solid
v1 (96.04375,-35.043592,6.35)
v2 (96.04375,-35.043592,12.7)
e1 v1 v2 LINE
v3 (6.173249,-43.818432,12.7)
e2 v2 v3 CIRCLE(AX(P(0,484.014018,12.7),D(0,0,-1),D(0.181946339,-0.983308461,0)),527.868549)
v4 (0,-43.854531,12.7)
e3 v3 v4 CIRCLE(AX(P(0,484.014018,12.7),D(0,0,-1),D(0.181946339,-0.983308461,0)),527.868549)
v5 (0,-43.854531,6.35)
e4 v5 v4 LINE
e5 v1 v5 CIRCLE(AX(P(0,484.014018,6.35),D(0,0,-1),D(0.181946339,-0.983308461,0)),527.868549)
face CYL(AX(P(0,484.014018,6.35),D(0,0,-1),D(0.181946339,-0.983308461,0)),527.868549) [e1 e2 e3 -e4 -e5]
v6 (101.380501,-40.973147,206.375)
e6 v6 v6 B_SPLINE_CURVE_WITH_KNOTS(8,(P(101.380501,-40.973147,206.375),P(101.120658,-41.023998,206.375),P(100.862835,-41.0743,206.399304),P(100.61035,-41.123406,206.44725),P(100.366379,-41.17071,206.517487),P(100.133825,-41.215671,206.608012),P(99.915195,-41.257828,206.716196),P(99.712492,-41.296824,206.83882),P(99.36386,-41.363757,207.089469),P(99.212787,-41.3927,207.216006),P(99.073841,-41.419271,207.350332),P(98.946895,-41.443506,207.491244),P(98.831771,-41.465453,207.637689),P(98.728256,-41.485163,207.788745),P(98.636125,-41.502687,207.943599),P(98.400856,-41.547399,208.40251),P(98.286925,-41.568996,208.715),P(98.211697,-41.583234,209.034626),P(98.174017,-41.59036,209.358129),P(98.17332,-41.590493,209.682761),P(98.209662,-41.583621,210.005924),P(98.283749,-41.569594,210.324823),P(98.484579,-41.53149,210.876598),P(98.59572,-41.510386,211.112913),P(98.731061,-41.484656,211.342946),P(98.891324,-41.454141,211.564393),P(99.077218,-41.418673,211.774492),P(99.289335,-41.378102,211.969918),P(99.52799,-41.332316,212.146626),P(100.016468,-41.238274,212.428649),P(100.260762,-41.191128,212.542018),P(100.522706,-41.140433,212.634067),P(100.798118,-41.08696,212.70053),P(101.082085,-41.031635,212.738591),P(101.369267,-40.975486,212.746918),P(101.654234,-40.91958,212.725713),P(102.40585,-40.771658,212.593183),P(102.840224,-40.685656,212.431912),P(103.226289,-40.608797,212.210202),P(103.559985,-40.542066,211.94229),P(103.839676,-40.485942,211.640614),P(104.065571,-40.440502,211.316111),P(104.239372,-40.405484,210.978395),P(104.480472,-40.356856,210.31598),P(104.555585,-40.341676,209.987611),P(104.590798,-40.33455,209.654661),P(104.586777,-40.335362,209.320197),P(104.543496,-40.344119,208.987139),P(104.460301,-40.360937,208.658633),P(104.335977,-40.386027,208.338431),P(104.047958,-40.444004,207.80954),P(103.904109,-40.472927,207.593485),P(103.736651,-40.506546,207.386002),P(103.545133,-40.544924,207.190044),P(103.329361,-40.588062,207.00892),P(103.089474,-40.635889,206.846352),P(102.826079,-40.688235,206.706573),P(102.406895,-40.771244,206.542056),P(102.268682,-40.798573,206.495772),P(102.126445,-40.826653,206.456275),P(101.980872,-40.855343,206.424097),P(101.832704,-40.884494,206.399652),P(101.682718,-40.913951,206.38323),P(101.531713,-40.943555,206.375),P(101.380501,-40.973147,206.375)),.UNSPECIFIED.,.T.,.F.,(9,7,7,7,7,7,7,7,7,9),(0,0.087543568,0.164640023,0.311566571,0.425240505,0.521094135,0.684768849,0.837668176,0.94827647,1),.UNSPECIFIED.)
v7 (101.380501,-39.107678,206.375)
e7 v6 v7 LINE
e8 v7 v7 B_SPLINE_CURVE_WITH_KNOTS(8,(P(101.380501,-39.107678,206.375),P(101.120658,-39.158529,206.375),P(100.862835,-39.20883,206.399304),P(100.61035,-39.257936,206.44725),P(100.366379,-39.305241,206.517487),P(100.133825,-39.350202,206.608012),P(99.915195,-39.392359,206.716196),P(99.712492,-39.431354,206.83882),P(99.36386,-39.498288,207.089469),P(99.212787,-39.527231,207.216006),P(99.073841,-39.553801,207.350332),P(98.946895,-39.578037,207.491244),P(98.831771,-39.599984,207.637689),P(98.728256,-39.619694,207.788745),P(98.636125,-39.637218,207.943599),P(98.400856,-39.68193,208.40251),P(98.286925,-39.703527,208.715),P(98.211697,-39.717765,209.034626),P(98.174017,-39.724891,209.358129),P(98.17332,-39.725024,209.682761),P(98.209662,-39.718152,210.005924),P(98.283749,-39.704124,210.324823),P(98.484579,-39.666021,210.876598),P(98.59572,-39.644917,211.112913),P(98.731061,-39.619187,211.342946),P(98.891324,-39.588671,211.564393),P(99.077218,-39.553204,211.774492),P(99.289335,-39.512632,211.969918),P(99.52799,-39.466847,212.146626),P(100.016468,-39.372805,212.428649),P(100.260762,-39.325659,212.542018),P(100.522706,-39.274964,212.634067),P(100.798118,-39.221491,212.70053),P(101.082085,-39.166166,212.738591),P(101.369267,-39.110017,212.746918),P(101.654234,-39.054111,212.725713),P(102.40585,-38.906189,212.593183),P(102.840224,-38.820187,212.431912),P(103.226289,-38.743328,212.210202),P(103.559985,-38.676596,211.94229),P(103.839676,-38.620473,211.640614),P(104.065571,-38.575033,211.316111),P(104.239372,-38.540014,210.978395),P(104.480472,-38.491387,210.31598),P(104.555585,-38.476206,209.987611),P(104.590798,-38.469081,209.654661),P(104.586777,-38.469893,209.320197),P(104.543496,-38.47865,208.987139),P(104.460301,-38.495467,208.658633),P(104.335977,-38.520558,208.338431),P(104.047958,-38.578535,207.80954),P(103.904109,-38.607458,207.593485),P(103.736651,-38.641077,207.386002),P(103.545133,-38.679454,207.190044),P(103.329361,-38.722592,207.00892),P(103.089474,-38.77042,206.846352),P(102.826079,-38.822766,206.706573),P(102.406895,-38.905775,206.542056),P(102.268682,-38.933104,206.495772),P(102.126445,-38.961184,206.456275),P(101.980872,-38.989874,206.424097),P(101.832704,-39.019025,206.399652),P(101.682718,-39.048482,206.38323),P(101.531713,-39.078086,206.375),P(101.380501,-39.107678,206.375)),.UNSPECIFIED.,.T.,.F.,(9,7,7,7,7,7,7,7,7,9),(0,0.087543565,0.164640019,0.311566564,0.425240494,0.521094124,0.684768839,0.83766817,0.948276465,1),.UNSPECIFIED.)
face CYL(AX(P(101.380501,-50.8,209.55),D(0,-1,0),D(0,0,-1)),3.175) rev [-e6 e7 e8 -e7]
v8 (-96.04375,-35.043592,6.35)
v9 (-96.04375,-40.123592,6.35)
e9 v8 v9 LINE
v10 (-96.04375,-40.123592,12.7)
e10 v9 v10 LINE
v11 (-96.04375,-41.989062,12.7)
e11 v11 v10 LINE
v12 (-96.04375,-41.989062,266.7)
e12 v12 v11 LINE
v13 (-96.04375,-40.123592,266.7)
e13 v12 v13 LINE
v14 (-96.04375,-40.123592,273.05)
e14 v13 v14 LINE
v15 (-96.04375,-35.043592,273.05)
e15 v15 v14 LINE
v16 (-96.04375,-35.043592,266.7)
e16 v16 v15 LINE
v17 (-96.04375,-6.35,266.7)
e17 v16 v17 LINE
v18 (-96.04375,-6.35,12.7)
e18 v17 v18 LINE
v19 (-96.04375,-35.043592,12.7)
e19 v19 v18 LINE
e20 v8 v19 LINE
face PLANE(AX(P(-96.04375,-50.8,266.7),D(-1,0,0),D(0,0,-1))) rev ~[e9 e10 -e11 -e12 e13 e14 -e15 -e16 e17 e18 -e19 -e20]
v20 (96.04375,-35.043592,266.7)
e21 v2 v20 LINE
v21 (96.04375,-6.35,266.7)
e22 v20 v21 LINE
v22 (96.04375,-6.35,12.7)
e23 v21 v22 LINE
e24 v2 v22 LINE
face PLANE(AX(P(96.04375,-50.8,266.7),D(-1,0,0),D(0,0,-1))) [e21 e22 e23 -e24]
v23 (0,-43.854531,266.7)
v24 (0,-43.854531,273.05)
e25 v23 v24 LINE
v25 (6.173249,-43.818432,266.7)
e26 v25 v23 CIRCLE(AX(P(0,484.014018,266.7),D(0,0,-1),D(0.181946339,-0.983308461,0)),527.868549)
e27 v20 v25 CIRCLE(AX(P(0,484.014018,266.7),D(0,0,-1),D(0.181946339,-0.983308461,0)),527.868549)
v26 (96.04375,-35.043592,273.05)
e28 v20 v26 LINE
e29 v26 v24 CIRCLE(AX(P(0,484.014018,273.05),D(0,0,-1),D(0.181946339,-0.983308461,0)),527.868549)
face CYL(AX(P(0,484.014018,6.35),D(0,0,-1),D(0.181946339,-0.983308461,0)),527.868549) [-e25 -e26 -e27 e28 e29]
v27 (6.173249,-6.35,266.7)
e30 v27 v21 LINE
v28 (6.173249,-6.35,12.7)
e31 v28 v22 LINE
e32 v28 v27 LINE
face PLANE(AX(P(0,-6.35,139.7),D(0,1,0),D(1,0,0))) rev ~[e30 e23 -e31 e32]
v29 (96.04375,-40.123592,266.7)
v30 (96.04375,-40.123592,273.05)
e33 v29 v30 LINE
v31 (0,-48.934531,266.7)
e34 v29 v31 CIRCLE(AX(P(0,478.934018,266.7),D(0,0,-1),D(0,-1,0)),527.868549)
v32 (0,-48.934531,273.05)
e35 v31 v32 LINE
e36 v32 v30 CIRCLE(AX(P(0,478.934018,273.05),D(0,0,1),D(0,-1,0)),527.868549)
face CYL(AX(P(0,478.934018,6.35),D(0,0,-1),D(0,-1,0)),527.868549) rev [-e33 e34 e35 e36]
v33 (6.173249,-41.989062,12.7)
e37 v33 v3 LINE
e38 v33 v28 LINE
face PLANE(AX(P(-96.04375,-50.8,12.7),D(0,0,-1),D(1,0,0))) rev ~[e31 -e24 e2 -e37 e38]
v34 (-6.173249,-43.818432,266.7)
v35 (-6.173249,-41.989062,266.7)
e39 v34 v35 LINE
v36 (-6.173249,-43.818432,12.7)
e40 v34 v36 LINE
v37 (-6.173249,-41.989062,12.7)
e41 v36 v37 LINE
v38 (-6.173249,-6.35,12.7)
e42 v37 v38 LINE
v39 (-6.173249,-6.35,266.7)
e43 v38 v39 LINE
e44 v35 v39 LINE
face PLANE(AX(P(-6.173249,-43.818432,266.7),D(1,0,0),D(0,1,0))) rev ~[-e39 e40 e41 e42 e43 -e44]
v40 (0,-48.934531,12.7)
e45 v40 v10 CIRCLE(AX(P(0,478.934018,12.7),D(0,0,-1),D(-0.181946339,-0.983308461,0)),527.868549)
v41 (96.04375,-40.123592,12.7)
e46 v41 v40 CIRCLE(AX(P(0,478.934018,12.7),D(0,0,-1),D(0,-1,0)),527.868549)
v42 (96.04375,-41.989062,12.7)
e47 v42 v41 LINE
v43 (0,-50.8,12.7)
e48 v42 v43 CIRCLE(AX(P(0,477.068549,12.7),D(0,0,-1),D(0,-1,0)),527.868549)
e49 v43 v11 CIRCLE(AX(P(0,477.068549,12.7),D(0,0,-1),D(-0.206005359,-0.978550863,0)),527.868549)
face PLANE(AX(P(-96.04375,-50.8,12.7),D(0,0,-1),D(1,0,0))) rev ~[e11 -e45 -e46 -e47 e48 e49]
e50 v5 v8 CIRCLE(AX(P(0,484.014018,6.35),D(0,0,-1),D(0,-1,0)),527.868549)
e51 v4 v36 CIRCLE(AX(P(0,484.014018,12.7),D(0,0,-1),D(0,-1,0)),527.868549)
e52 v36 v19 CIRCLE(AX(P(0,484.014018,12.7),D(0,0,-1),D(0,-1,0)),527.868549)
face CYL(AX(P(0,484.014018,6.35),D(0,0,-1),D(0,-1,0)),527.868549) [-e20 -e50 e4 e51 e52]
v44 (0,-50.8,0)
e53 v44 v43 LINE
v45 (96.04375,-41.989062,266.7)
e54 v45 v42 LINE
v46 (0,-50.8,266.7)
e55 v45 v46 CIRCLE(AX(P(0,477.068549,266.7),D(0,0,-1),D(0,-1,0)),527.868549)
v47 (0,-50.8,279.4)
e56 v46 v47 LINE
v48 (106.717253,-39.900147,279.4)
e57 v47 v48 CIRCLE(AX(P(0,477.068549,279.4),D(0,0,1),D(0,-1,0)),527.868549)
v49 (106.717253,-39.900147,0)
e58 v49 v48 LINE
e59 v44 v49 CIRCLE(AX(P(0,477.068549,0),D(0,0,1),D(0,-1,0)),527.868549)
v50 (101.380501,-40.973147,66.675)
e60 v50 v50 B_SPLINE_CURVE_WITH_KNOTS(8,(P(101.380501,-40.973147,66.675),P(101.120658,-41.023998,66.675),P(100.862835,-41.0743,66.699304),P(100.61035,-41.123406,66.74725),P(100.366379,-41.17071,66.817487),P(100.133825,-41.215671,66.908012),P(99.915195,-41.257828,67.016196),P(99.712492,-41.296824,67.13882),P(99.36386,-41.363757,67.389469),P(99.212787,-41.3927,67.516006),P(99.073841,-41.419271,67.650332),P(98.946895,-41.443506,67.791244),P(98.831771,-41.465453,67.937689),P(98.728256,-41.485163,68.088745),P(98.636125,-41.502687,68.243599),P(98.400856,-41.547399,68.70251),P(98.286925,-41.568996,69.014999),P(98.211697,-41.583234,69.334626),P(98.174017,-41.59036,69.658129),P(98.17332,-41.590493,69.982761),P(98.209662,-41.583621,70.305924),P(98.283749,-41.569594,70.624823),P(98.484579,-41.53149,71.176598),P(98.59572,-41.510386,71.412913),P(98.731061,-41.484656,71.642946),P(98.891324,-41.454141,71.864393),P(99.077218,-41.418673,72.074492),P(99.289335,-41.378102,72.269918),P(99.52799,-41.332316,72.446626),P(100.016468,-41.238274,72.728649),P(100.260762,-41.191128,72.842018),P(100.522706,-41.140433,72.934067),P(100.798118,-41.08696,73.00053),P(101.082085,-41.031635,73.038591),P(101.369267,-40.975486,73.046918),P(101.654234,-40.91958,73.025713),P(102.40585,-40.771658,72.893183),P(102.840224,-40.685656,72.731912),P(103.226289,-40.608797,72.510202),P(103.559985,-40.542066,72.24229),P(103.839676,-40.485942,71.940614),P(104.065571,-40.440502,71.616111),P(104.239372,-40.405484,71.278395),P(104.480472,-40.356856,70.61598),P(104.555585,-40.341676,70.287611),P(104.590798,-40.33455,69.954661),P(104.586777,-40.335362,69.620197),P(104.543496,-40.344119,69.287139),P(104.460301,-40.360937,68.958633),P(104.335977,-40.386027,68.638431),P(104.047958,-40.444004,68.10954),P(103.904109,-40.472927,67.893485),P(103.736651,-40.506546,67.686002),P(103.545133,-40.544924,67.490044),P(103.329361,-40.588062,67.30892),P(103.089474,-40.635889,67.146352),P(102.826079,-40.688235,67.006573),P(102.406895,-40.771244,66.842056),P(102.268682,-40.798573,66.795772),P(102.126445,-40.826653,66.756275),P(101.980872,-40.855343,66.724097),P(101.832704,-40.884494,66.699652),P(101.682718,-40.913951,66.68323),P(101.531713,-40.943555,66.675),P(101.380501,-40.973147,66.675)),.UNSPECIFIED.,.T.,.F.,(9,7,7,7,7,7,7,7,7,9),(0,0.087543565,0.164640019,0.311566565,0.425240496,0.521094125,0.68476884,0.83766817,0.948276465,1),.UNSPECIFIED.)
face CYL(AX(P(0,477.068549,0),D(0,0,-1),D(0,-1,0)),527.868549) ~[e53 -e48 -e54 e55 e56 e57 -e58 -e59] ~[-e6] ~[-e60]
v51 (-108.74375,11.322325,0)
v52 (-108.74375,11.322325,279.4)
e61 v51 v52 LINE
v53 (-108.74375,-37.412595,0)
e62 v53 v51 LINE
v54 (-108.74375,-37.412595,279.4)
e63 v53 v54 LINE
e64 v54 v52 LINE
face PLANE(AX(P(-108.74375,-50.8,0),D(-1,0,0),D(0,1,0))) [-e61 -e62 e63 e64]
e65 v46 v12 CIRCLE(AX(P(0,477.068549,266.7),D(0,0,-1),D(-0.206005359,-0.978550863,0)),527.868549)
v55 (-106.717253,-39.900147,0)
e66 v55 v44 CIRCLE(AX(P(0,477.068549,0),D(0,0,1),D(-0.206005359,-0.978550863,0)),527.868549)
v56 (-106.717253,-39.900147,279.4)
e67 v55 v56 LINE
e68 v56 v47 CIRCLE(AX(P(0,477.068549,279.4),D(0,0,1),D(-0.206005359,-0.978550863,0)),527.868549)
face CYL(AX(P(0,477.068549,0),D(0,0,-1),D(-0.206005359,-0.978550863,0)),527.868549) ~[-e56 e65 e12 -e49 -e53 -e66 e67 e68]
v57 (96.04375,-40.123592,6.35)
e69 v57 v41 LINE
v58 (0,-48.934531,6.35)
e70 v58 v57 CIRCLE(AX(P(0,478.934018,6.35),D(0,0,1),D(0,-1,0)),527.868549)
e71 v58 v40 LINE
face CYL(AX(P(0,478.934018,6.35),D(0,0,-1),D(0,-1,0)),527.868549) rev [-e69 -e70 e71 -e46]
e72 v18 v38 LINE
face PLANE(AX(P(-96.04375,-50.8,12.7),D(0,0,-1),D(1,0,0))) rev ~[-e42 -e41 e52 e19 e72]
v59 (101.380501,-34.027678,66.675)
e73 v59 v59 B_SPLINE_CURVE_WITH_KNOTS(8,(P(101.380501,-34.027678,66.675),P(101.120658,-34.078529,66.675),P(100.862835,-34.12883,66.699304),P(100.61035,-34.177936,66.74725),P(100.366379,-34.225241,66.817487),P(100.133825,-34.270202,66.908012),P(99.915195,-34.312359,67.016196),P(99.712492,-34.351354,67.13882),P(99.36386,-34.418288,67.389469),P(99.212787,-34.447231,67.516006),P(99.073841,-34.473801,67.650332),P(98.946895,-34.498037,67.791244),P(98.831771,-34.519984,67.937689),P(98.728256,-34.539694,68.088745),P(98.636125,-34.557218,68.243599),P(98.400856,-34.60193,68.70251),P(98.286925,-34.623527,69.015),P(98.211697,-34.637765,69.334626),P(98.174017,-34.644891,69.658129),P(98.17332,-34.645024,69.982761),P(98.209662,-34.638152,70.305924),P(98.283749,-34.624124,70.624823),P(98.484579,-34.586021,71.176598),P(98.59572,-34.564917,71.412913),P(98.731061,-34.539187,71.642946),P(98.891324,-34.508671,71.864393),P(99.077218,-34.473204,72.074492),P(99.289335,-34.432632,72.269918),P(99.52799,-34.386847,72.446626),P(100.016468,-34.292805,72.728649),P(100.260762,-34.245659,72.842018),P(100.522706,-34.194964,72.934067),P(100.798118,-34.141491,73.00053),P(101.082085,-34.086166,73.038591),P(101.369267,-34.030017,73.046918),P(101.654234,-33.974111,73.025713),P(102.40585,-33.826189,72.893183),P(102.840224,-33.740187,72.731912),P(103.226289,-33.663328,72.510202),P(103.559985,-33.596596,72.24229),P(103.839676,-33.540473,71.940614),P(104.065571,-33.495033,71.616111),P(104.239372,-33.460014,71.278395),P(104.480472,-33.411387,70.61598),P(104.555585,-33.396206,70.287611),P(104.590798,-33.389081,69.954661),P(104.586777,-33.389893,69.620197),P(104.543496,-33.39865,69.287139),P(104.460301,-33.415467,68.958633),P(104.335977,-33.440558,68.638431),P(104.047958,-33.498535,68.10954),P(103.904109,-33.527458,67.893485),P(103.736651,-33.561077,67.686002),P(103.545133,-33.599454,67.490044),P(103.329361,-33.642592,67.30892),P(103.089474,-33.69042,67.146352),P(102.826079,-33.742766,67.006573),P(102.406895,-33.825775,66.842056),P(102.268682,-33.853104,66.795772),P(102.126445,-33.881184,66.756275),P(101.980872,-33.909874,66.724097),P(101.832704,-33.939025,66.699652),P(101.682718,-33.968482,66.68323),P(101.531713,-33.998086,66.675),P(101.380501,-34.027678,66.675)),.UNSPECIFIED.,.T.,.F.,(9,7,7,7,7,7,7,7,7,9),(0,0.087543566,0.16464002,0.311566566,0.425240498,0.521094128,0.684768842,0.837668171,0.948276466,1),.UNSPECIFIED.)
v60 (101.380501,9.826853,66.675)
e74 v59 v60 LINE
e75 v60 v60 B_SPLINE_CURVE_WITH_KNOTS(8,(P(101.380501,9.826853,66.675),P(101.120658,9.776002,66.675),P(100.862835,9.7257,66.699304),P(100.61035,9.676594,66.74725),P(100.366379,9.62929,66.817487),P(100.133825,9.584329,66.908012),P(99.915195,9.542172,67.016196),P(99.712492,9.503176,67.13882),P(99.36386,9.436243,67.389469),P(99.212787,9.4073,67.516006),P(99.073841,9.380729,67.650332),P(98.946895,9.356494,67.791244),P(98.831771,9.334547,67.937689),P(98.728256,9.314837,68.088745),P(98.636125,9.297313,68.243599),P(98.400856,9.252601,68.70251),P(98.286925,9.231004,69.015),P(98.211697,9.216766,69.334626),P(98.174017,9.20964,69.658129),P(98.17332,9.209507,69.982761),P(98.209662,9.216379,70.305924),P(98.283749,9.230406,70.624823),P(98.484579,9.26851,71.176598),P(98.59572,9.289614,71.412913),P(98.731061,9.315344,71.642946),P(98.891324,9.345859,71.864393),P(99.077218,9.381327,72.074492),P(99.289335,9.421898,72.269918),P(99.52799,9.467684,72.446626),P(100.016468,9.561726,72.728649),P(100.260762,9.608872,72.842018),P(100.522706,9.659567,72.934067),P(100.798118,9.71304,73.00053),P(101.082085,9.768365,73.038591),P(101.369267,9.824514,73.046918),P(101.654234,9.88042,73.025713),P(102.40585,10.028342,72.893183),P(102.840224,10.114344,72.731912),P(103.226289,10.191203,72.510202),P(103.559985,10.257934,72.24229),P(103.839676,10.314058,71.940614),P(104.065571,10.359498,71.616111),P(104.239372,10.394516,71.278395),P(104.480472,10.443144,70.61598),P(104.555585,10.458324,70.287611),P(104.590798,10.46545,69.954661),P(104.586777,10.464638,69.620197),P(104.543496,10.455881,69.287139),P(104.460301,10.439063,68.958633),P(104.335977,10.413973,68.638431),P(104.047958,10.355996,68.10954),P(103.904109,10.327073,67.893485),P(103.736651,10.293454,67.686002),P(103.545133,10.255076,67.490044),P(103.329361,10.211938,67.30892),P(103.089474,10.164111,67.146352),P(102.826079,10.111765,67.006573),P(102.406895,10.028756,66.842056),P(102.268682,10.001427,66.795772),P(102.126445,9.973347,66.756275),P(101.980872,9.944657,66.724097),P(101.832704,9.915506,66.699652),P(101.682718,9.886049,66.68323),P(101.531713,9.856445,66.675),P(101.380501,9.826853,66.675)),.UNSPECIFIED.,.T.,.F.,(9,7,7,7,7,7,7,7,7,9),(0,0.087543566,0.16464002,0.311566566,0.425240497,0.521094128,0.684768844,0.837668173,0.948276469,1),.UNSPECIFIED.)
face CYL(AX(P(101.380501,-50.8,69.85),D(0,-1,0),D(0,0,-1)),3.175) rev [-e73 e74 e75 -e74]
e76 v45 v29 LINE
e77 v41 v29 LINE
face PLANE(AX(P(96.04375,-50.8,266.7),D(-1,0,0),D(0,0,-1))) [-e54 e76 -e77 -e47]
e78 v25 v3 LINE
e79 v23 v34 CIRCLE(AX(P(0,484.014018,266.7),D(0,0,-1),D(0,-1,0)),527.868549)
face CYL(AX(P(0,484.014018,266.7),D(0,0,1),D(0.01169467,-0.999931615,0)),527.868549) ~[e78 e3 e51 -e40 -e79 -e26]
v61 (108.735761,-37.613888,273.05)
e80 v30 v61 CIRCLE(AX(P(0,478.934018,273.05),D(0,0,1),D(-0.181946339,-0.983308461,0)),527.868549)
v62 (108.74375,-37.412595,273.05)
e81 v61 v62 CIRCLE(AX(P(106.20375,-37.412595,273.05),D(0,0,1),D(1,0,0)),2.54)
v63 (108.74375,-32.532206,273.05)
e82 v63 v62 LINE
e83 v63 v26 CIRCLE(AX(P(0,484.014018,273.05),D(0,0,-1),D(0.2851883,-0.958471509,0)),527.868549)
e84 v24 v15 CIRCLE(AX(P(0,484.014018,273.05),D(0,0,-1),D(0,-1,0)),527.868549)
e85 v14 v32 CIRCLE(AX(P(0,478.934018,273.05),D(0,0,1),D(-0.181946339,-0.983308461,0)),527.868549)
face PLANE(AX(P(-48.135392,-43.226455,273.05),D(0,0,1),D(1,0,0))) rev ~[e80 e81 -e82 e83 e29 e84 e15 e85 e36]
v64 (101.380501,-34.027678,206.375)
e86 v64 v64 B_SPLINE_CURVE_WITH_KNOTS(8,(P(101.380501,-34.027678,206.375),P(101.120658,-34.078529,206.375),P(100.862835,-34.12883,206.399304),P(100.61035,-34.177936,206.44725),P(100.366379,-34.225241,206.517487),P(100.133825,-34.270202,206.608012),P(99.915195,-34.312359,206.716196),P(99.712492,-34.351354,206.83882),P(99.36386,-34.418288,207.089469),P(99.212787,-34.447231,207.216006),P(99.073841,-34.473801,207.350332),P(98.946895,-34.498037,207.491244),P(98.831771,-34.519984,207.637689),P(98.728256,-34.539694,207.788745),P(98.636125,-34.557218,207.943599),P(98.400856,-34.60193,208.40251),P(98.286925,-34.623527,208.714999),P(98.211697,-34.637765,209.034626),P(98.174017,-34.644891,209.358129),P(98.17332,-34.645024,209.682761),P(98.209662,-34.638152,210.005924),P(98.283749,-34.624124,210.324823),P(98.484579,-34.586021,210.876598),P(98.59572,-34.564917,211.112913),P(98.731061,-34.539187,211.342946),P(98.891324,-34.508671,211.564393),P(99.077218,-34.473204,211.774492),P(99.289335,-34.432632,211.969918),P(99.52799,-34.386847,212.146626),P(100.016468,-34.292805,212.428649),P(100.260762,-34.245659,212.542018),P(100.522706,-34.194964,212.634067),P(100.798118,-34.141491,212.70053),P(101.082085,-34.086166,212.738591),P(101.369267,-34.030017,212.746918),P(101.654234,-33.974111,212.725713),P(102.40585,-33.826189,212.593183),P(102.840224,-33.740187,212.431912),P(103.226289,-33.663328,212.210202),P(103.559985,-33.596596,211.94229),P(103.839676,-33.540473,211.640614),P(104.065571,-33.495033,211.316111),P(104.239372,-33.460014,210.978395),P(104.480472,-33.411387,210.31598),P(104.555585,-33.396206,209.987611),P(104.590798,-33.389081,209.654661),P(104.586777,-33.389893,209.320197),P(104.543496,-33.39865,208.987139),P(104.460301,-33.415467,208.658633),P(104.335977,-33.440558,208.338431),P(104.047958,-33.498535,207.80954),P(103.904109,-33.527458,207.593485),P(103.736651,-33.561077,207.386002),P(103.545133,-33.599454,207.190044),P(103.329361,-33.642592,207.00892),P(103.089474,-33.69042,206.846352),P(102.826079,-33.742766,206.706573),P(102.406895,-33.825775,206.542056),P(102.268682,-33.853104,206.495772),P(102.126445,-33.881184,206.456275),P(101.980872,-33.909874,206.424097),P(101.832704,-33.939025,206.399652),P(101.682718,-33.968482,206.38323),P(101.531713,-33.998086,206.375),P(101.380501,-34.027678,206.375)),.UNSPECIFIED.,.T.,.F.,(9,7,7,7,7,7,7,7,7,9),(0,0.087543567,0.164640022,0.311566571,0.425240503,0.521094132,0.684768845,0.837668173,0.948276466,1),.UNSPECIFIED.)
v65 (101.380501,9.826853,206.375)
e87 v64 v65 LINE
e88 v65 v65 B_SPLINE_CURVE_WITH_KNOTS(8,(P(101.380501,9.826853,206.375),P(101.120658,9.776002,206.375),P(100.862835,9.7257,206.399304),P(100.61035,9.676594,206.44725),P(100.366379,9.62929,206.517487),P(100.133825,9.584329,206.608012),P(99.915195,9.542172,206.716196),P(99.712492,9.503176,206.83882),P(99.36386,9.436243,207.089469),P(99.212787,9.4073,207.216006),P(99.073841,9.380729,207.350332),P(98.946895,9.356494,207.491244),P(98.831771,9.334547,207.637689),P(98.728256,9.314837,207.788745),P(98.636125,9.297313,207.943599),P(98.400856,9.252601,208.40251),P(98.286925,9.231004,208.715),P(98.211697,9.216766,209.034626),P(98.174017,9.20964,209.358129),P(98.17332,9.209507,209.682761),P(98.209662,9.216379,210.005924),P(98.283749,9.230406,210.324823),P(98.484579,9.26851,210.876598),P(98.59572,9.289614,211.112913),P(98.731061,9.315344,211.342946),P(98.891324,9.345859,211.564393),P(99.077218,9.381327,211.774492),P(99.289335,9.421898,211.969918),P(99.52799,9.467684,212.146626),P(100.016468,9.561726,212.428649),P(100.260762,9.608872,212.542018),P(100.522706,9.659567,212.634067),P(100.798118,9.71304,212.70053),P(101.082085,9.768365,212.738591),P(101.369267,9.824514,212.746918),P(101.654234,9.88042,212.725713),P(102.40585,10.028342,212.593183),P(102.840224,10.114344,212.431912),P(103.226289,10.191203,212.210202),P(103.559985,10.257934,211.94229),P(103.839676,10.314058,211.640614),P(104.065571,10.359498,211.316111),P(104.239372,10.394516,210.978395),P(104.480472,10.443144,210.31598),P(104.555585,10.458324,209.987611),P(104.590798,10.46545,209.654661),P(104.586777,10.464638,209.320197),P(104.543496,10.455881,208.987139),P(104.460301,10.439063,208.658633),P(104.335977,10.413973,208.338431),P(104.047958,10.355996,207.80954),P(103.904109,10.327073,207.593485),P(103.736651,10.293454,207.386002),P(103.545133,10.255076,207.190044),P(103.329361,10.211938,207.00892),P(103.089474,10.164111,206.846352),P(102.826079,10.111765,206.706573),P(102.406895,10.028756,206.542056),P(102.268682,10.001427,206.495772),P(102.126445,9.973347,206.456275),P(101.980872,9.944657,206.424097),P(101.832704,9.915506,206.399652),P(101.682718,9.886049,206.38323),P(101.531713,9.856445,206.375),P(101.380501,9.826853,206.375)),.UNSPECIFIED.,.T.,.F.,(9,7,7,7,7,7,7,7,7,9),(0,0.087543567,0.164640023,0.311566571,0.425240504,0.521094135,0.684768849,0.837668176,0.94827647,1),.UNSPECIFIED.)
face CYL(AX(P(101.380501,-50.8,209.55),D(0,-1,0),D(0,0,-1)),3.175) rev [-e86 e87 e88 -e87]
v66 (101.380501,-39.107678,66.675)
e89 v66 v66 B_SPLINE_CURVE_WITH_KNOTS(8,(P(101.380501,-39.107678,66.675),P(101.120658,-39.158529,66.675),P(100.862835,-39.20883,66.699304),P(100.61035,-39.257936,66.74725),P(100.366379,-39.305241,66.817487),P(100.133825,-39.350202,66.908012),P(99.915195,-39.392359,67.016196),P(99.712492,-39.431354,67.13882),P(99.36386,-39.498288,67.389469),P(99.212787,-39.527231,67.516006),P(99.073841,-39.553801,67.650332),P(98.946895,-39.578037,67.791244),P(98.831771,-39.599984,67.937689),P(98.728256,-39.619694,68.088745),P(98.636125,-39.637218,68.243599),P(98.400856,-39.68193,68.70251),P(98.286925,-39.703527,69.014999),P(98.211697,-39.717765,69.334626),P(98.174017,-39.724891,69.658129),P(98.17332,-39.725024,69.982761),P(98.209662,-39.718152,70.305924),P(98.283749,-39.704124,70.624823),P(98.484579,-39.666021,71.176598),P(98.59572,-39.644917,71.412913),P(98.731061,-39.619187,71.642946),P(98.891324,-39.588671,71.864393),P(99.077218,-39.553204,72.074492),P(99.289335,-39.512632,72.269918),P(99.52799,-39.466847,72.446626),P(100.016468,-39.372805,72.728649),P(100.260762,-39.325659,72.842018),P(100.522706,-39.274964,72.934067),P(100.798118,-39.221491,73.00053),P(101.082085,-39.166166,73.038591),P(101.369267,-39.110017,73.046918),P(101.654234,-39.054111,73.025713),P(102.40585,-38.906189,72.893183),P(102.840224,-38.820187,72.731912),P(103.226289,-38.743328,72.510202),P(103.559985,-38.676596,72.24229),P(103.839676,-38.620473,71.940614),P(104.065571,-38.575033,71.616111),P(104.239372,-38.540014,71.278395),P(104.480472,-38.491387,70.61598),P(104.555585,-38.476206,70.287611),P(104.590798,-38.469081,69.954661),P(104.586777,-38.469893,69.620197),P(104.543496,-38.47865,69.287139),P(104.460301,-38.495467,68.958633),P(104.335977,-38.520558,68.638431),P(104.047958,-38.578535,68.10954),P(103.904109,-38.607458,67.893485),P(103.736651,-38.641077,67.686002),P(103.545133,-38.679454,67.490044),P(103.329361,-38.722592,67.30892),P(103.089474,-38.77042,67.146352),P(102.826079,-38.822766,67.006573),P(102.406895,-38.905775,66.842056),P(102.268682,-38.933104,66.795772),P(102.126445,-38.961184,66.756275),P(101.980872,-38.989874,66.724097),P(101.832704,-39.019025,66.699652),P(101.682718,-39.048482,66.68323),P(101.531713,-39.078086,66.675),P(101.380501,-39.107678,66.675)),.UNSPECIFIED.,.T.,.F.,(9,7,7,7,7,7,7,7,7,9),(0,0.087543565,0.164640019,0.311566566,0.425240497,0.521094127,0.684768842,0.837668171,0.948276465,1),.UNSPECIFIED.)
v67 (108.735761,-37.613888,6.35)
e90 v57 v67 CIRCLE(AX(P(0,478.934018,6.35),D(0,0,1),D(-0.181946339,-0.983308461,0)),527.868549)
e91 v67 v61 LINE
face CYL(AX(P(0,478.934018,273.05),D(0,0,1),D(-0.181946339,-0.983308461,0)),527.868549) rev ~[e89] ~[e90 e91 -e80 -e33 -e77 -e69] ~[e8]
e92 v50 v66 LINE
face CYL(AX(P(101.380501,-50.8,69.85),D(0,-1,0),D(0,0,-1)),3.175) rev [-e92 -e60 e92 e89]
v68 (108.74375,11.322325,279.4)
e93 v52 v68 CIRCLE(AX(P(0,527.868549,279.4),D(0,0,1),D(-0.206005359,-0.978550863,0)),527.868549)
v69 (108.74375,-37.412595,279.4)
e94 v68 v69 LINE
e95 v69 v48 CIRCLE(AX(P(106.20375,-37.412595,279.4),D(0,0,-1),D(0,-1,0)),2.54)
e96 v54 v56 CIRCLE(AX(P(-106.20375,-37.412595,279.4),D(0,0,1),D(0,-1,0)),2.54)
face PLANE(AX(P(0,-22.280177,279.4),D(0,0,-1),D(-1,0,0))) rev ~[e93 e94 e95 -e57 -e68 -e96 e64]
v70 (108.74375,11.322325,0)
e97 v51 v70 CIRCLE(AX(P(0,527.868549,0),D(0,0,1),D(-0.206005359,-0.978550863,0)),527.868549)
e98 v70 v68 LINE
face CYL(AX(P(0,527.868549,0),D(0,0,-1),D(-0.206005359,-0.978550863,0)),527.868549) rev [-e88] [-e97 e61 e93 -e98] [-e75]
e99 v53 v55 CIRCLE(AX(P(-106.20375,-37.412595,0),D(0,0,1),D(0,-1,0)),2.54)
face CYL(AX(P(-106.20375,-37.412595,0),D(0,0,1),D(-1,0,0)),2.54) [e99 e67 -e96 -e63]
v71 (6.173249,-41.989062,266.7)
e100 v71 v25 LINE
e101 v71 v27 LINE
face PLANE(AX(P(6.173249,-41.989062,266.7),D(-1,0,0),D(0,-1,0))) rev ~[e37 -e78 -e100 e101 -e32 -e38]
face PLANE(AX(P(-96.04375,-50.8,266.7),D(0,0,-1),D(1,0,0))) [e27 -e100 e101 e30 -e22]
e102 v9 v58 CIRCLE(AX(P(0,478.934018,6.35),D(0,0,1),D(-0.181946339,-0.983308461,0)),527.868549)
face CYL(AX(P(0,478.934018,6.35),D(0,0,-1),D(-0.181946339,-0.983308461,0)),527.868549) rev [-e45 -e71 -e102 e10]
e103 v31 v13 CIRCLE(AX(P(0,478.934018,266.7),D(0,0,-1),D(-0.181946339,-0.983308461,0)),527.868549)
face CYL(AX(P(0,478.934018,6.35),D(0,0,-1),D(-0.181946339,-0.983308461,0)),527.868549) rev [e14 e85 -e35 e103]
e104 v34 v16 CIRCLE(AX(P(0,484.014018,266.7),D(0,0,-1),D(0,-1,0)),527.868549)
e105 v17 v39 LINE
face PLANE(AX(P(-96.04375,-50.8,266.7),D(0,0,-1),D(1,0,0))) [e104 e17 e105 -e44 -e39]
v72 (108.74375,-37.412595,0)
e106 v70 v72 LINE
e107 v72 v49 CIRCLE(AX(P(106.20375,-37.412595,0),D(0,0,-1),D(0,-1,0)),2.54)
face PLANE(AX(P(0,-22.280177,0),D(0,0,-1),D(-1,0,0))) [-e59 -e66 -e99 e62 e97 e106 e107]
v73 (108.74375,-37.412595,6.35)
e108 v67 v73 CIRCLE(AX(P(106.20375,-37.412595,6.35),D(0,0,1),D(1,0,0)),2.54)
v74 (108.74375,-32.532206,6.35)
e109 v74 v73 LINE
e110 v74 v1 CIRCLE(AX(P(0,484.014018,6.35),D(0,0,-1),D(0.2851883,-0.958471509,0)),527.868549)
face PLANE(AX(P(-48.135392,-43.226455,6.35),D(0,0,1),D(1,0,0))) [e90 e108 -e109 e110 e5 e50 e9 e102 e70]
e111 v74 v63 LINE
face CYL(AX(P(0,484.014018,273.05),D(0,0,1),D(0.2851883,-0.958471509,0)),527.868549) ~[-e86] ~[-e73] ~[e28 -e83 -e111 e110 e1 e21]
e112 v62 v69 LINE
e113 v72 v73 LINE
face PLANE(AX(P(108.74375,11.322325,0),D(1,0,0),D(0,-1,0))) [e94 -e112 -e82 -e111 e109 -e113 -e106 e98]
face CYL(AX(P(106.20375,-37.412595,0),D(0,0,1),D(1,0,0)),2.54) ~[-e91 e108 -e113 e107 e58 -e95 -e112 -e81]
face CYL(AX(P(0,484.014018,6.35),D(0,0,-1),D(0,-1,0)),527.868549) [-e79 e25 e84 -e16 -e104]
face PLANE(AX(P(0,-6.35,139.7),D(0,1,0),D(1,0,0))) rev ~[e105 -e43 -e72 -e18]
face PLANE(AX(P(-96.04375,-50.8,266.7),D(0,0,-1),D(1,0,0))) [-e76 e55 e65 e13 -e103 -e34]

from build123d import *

# Parameters (mm, degrees)
BOSS_EXTRUDE2_DEPTH     = 279.4
CUT_EXTRUDE1_DEPTH      = 279.4
FILLET1_R               = 2.54
SKETCH7_W               = 192.0875
SKETCH7_H               = 254
CUT_EXTRUDE2_DEPTH      = 44.45
SKETCH8_W               = 6.173248721
SKETCH8_H               = 35.639061591
BOSS_EXTRUDE3_DEPTH     = 258.064
CUT_EXTRUDE3_DEPTH      = 260.35
CUT_EXTRUDE3_DEPTH_BACK = 6.35
CUT_EXTRUDE4_DEPTH      = 260.35
CUT_EXTRUDE4_DEPTH_BACK = 6.35
BOSS_EXTRUDE4_DEPTH     = 254
SKETCH18_R              = 3.175
CUT_EXTRUDE5_DEPTH      = 71.12


with BuildPart() as part:
    # CrossSection → Boss-Extrude2 (new body)
    with BuildSketch(Plane.XY):
        with BuildLine():
            Line((108.74375, 11.322324676), (108.74375, -50.8))
            Line((108.74375, -50.8), (-108.74375, -50.8))
            Line((-108.74375, -50.8), (-108.74375, 11.322324676))
            ThreePointArc((-108.74375, 11.322324676), (0, 0), (108.74375, 11.322324676))
        make_face()
    extrude(amount=BOSS_EXTRUDE2_DEPTH)

    # Sketch4 → Cut-Extrude1 (cut)
    with BuildSketch(Plane(origin=(0, 0, 0), x_dir=(-1, 0, 0), z_dir=(0, 0, -1))):
        with BuildLine():
            ThreePointArc((0, -50.8), (-54.665798723, -47.96178867), (-108.74375, -39.477675324))
            Line((-108.74375, -39.477675324), (-108.74375, -50.8))
            Line((-108.74375, -50.8), (0, -50.8))
        make_face()
        with BuildLine():
            ThreePointArc((108.74375, -39.477675324), (54.665798723, -47.96178867), (0, -50.8))
            Line((0, -50.8), (108.74375, -50.8))
            Line((108.74375, -50.8), (108.74375, -39.477675324))
        make_face()
    extrude(amount=-CUT_EXTRUDE1_DEPTH, mode=Mode.SUBTRACT)

    # Fillet1
    fillet1_edges = [part.edges().sort_by_distance(p)[0] for p in [
        (108.74375, -39.477675324, 139.7),
        (-108.74375, -39.477675324, 139.7),
    ]]
    fillet(fillet1_edges, radius=FILLET1_R)

    # Sketch7 → Cut-Extrude2 (cut)
    with BuildSketch(Plane(origin=(0, -50.8, 0), x_dir=(1, 0, 0), z_dir=(0, 1, 0))):
        with Locations((0, -139.7)):
            Rectangle(SKETCH7_W, SKETCH7_H)
    extrude(amount=CUT_EXTRUDE2_DEPTH, mode=Mode.SUBTRACT)

    # Sketch8 → Boss-Extrude3 (add)
    with BuildSketch(Plane.XY.offset(12.7)):
        with Locations((3.086624361, -24.169530796)):
            Rectangle(SKETCH8_W, SKETCH8_H)
        with Locations((-3.086624361, -24.169530796)):
            Rectangle(SKETCH8_W, SKETCH8_H)
    extrude(amount=BOSS_EXTRUDE3_DEPTH)

    # Sketch13 → Cut-Extrude3 (cut, two sides: drawn at the far end of the back side and taken through both)
    with BuildSketch(Plane.XY.offset(12.7).offset(-CUT_EXTRUDE3_DEPTH_BACK)):
        with BuildLine():
            ThreePointArc((-96.04375, -40.123592373), (-48.223527841, -46.727181022), (0, -48.934530782))
            Line((0, -48.934530782), (0, -43.854530782))
            ThreePointArc((0, -43.854530782), (-48.223527841, -41.647181022), (-96.04375, -35.043592373))
            Line((-96.04375, -35.043592373), (-96.04375, -37.583592373))
            Line((-96.04375, -37.583592373), (-96.04375, -40.123592373))
        make_face()
        with BuildLine():
            Line((0, -43.854530782), (0, -48.934530782))
            ThreePointArc((0, -48.934530782), (48.223527841, -46.727181022), (96.04375, -40.123592373))
            Line((96.04375, -40.123592373), (96.04375, -37.583592373))
            Line((96.04375, -37.583592373), (96.04375, -35.043592373))
            ThreePointArc((96.04375, -35.043592373), (48.223527841, -41.647181022), (0, -43.854530782))
        make_face()
    extrude(amount=CUT_EXTRUDE3_DEPTH + CUT_EXTRUDE3_DEPTH_BACK, mode=Mode.SUBTRACT)

    # Sketch14 → Cut-Extrude4 (cut, two sides: drawn at the far end of the back side and taken through both)
    with BuildSketch(Plane(origin=(0, 0, 266.7), x_dir=(-1, 0, 0), z_dir=(0, 0, -1)).offset(-CUT_EXTRUDE4_DEPTH_BACK)):
        with BuildLine():
            Line((96.04375, -35.043592373), (96.04375, -40.123592373))
            ThreePointArc((96.04375, -40.123592373), (-28.026510339, -48.189989717), (-150.541934286, -27.012946445))
            Line((-150.541934286, -27.012946445), (-150.541934286, -21.932946445))
            ThreePointArc((-150.541934286, -21.932946445), (-28.026510339, -43.109989717), (96.04375, -35.043592373))
        make_face()
    extrude(amount=CUT_EXTRUDE4_DEPTH + CUT_EXTRUDE4_DEPTH_BACK, mode=Mode.SUBTRACT)

    # Sketch15 → Boss-Extrude4 (add)
    with BuildSketch(Plane(origin=(0, 0, 266.7), x_dir=(-1, 0, 0), z_dir=(0, 0, -1))):
        with BuildLine():
            Line((6.173248721, -43.818432493), (6.173248721, -41.989061591))
            Line((6.173248721, -41.989061591), (-6.173248721, -41.989061591))
            Line((-6.173248721, -41.989061591), (-6.173248721, -43.818432493))
            ThreePointArc((-6.173248721, -43.818432493), (0, -43.854530782), (6.173248721, -43.818432493))
        make_face()
    extrude(amount=BOSS_EXTRUDE4_DEPTH)

    # Sketch18 → Cut-Extrude5 (cut)
    with BuildSketch(Plane(origin=(0, -50.8, 0), x_dir=(1, 0, 0), z_dir=(0, 1, 0))):
        with Locations(Location((101.380501252, -209.55, 0), (0, 0, 90))):
            Circle(SKETCH18_R)
        with Locations(Location((101.380501252, -69.85, 0), (0, 0, 90))):
            Circle(SKETCH18_R)
    extrude(amount=CUT_EXTRUDE5_DEPTH, mode=Mode.SUBTRACT)


solid = part.part
